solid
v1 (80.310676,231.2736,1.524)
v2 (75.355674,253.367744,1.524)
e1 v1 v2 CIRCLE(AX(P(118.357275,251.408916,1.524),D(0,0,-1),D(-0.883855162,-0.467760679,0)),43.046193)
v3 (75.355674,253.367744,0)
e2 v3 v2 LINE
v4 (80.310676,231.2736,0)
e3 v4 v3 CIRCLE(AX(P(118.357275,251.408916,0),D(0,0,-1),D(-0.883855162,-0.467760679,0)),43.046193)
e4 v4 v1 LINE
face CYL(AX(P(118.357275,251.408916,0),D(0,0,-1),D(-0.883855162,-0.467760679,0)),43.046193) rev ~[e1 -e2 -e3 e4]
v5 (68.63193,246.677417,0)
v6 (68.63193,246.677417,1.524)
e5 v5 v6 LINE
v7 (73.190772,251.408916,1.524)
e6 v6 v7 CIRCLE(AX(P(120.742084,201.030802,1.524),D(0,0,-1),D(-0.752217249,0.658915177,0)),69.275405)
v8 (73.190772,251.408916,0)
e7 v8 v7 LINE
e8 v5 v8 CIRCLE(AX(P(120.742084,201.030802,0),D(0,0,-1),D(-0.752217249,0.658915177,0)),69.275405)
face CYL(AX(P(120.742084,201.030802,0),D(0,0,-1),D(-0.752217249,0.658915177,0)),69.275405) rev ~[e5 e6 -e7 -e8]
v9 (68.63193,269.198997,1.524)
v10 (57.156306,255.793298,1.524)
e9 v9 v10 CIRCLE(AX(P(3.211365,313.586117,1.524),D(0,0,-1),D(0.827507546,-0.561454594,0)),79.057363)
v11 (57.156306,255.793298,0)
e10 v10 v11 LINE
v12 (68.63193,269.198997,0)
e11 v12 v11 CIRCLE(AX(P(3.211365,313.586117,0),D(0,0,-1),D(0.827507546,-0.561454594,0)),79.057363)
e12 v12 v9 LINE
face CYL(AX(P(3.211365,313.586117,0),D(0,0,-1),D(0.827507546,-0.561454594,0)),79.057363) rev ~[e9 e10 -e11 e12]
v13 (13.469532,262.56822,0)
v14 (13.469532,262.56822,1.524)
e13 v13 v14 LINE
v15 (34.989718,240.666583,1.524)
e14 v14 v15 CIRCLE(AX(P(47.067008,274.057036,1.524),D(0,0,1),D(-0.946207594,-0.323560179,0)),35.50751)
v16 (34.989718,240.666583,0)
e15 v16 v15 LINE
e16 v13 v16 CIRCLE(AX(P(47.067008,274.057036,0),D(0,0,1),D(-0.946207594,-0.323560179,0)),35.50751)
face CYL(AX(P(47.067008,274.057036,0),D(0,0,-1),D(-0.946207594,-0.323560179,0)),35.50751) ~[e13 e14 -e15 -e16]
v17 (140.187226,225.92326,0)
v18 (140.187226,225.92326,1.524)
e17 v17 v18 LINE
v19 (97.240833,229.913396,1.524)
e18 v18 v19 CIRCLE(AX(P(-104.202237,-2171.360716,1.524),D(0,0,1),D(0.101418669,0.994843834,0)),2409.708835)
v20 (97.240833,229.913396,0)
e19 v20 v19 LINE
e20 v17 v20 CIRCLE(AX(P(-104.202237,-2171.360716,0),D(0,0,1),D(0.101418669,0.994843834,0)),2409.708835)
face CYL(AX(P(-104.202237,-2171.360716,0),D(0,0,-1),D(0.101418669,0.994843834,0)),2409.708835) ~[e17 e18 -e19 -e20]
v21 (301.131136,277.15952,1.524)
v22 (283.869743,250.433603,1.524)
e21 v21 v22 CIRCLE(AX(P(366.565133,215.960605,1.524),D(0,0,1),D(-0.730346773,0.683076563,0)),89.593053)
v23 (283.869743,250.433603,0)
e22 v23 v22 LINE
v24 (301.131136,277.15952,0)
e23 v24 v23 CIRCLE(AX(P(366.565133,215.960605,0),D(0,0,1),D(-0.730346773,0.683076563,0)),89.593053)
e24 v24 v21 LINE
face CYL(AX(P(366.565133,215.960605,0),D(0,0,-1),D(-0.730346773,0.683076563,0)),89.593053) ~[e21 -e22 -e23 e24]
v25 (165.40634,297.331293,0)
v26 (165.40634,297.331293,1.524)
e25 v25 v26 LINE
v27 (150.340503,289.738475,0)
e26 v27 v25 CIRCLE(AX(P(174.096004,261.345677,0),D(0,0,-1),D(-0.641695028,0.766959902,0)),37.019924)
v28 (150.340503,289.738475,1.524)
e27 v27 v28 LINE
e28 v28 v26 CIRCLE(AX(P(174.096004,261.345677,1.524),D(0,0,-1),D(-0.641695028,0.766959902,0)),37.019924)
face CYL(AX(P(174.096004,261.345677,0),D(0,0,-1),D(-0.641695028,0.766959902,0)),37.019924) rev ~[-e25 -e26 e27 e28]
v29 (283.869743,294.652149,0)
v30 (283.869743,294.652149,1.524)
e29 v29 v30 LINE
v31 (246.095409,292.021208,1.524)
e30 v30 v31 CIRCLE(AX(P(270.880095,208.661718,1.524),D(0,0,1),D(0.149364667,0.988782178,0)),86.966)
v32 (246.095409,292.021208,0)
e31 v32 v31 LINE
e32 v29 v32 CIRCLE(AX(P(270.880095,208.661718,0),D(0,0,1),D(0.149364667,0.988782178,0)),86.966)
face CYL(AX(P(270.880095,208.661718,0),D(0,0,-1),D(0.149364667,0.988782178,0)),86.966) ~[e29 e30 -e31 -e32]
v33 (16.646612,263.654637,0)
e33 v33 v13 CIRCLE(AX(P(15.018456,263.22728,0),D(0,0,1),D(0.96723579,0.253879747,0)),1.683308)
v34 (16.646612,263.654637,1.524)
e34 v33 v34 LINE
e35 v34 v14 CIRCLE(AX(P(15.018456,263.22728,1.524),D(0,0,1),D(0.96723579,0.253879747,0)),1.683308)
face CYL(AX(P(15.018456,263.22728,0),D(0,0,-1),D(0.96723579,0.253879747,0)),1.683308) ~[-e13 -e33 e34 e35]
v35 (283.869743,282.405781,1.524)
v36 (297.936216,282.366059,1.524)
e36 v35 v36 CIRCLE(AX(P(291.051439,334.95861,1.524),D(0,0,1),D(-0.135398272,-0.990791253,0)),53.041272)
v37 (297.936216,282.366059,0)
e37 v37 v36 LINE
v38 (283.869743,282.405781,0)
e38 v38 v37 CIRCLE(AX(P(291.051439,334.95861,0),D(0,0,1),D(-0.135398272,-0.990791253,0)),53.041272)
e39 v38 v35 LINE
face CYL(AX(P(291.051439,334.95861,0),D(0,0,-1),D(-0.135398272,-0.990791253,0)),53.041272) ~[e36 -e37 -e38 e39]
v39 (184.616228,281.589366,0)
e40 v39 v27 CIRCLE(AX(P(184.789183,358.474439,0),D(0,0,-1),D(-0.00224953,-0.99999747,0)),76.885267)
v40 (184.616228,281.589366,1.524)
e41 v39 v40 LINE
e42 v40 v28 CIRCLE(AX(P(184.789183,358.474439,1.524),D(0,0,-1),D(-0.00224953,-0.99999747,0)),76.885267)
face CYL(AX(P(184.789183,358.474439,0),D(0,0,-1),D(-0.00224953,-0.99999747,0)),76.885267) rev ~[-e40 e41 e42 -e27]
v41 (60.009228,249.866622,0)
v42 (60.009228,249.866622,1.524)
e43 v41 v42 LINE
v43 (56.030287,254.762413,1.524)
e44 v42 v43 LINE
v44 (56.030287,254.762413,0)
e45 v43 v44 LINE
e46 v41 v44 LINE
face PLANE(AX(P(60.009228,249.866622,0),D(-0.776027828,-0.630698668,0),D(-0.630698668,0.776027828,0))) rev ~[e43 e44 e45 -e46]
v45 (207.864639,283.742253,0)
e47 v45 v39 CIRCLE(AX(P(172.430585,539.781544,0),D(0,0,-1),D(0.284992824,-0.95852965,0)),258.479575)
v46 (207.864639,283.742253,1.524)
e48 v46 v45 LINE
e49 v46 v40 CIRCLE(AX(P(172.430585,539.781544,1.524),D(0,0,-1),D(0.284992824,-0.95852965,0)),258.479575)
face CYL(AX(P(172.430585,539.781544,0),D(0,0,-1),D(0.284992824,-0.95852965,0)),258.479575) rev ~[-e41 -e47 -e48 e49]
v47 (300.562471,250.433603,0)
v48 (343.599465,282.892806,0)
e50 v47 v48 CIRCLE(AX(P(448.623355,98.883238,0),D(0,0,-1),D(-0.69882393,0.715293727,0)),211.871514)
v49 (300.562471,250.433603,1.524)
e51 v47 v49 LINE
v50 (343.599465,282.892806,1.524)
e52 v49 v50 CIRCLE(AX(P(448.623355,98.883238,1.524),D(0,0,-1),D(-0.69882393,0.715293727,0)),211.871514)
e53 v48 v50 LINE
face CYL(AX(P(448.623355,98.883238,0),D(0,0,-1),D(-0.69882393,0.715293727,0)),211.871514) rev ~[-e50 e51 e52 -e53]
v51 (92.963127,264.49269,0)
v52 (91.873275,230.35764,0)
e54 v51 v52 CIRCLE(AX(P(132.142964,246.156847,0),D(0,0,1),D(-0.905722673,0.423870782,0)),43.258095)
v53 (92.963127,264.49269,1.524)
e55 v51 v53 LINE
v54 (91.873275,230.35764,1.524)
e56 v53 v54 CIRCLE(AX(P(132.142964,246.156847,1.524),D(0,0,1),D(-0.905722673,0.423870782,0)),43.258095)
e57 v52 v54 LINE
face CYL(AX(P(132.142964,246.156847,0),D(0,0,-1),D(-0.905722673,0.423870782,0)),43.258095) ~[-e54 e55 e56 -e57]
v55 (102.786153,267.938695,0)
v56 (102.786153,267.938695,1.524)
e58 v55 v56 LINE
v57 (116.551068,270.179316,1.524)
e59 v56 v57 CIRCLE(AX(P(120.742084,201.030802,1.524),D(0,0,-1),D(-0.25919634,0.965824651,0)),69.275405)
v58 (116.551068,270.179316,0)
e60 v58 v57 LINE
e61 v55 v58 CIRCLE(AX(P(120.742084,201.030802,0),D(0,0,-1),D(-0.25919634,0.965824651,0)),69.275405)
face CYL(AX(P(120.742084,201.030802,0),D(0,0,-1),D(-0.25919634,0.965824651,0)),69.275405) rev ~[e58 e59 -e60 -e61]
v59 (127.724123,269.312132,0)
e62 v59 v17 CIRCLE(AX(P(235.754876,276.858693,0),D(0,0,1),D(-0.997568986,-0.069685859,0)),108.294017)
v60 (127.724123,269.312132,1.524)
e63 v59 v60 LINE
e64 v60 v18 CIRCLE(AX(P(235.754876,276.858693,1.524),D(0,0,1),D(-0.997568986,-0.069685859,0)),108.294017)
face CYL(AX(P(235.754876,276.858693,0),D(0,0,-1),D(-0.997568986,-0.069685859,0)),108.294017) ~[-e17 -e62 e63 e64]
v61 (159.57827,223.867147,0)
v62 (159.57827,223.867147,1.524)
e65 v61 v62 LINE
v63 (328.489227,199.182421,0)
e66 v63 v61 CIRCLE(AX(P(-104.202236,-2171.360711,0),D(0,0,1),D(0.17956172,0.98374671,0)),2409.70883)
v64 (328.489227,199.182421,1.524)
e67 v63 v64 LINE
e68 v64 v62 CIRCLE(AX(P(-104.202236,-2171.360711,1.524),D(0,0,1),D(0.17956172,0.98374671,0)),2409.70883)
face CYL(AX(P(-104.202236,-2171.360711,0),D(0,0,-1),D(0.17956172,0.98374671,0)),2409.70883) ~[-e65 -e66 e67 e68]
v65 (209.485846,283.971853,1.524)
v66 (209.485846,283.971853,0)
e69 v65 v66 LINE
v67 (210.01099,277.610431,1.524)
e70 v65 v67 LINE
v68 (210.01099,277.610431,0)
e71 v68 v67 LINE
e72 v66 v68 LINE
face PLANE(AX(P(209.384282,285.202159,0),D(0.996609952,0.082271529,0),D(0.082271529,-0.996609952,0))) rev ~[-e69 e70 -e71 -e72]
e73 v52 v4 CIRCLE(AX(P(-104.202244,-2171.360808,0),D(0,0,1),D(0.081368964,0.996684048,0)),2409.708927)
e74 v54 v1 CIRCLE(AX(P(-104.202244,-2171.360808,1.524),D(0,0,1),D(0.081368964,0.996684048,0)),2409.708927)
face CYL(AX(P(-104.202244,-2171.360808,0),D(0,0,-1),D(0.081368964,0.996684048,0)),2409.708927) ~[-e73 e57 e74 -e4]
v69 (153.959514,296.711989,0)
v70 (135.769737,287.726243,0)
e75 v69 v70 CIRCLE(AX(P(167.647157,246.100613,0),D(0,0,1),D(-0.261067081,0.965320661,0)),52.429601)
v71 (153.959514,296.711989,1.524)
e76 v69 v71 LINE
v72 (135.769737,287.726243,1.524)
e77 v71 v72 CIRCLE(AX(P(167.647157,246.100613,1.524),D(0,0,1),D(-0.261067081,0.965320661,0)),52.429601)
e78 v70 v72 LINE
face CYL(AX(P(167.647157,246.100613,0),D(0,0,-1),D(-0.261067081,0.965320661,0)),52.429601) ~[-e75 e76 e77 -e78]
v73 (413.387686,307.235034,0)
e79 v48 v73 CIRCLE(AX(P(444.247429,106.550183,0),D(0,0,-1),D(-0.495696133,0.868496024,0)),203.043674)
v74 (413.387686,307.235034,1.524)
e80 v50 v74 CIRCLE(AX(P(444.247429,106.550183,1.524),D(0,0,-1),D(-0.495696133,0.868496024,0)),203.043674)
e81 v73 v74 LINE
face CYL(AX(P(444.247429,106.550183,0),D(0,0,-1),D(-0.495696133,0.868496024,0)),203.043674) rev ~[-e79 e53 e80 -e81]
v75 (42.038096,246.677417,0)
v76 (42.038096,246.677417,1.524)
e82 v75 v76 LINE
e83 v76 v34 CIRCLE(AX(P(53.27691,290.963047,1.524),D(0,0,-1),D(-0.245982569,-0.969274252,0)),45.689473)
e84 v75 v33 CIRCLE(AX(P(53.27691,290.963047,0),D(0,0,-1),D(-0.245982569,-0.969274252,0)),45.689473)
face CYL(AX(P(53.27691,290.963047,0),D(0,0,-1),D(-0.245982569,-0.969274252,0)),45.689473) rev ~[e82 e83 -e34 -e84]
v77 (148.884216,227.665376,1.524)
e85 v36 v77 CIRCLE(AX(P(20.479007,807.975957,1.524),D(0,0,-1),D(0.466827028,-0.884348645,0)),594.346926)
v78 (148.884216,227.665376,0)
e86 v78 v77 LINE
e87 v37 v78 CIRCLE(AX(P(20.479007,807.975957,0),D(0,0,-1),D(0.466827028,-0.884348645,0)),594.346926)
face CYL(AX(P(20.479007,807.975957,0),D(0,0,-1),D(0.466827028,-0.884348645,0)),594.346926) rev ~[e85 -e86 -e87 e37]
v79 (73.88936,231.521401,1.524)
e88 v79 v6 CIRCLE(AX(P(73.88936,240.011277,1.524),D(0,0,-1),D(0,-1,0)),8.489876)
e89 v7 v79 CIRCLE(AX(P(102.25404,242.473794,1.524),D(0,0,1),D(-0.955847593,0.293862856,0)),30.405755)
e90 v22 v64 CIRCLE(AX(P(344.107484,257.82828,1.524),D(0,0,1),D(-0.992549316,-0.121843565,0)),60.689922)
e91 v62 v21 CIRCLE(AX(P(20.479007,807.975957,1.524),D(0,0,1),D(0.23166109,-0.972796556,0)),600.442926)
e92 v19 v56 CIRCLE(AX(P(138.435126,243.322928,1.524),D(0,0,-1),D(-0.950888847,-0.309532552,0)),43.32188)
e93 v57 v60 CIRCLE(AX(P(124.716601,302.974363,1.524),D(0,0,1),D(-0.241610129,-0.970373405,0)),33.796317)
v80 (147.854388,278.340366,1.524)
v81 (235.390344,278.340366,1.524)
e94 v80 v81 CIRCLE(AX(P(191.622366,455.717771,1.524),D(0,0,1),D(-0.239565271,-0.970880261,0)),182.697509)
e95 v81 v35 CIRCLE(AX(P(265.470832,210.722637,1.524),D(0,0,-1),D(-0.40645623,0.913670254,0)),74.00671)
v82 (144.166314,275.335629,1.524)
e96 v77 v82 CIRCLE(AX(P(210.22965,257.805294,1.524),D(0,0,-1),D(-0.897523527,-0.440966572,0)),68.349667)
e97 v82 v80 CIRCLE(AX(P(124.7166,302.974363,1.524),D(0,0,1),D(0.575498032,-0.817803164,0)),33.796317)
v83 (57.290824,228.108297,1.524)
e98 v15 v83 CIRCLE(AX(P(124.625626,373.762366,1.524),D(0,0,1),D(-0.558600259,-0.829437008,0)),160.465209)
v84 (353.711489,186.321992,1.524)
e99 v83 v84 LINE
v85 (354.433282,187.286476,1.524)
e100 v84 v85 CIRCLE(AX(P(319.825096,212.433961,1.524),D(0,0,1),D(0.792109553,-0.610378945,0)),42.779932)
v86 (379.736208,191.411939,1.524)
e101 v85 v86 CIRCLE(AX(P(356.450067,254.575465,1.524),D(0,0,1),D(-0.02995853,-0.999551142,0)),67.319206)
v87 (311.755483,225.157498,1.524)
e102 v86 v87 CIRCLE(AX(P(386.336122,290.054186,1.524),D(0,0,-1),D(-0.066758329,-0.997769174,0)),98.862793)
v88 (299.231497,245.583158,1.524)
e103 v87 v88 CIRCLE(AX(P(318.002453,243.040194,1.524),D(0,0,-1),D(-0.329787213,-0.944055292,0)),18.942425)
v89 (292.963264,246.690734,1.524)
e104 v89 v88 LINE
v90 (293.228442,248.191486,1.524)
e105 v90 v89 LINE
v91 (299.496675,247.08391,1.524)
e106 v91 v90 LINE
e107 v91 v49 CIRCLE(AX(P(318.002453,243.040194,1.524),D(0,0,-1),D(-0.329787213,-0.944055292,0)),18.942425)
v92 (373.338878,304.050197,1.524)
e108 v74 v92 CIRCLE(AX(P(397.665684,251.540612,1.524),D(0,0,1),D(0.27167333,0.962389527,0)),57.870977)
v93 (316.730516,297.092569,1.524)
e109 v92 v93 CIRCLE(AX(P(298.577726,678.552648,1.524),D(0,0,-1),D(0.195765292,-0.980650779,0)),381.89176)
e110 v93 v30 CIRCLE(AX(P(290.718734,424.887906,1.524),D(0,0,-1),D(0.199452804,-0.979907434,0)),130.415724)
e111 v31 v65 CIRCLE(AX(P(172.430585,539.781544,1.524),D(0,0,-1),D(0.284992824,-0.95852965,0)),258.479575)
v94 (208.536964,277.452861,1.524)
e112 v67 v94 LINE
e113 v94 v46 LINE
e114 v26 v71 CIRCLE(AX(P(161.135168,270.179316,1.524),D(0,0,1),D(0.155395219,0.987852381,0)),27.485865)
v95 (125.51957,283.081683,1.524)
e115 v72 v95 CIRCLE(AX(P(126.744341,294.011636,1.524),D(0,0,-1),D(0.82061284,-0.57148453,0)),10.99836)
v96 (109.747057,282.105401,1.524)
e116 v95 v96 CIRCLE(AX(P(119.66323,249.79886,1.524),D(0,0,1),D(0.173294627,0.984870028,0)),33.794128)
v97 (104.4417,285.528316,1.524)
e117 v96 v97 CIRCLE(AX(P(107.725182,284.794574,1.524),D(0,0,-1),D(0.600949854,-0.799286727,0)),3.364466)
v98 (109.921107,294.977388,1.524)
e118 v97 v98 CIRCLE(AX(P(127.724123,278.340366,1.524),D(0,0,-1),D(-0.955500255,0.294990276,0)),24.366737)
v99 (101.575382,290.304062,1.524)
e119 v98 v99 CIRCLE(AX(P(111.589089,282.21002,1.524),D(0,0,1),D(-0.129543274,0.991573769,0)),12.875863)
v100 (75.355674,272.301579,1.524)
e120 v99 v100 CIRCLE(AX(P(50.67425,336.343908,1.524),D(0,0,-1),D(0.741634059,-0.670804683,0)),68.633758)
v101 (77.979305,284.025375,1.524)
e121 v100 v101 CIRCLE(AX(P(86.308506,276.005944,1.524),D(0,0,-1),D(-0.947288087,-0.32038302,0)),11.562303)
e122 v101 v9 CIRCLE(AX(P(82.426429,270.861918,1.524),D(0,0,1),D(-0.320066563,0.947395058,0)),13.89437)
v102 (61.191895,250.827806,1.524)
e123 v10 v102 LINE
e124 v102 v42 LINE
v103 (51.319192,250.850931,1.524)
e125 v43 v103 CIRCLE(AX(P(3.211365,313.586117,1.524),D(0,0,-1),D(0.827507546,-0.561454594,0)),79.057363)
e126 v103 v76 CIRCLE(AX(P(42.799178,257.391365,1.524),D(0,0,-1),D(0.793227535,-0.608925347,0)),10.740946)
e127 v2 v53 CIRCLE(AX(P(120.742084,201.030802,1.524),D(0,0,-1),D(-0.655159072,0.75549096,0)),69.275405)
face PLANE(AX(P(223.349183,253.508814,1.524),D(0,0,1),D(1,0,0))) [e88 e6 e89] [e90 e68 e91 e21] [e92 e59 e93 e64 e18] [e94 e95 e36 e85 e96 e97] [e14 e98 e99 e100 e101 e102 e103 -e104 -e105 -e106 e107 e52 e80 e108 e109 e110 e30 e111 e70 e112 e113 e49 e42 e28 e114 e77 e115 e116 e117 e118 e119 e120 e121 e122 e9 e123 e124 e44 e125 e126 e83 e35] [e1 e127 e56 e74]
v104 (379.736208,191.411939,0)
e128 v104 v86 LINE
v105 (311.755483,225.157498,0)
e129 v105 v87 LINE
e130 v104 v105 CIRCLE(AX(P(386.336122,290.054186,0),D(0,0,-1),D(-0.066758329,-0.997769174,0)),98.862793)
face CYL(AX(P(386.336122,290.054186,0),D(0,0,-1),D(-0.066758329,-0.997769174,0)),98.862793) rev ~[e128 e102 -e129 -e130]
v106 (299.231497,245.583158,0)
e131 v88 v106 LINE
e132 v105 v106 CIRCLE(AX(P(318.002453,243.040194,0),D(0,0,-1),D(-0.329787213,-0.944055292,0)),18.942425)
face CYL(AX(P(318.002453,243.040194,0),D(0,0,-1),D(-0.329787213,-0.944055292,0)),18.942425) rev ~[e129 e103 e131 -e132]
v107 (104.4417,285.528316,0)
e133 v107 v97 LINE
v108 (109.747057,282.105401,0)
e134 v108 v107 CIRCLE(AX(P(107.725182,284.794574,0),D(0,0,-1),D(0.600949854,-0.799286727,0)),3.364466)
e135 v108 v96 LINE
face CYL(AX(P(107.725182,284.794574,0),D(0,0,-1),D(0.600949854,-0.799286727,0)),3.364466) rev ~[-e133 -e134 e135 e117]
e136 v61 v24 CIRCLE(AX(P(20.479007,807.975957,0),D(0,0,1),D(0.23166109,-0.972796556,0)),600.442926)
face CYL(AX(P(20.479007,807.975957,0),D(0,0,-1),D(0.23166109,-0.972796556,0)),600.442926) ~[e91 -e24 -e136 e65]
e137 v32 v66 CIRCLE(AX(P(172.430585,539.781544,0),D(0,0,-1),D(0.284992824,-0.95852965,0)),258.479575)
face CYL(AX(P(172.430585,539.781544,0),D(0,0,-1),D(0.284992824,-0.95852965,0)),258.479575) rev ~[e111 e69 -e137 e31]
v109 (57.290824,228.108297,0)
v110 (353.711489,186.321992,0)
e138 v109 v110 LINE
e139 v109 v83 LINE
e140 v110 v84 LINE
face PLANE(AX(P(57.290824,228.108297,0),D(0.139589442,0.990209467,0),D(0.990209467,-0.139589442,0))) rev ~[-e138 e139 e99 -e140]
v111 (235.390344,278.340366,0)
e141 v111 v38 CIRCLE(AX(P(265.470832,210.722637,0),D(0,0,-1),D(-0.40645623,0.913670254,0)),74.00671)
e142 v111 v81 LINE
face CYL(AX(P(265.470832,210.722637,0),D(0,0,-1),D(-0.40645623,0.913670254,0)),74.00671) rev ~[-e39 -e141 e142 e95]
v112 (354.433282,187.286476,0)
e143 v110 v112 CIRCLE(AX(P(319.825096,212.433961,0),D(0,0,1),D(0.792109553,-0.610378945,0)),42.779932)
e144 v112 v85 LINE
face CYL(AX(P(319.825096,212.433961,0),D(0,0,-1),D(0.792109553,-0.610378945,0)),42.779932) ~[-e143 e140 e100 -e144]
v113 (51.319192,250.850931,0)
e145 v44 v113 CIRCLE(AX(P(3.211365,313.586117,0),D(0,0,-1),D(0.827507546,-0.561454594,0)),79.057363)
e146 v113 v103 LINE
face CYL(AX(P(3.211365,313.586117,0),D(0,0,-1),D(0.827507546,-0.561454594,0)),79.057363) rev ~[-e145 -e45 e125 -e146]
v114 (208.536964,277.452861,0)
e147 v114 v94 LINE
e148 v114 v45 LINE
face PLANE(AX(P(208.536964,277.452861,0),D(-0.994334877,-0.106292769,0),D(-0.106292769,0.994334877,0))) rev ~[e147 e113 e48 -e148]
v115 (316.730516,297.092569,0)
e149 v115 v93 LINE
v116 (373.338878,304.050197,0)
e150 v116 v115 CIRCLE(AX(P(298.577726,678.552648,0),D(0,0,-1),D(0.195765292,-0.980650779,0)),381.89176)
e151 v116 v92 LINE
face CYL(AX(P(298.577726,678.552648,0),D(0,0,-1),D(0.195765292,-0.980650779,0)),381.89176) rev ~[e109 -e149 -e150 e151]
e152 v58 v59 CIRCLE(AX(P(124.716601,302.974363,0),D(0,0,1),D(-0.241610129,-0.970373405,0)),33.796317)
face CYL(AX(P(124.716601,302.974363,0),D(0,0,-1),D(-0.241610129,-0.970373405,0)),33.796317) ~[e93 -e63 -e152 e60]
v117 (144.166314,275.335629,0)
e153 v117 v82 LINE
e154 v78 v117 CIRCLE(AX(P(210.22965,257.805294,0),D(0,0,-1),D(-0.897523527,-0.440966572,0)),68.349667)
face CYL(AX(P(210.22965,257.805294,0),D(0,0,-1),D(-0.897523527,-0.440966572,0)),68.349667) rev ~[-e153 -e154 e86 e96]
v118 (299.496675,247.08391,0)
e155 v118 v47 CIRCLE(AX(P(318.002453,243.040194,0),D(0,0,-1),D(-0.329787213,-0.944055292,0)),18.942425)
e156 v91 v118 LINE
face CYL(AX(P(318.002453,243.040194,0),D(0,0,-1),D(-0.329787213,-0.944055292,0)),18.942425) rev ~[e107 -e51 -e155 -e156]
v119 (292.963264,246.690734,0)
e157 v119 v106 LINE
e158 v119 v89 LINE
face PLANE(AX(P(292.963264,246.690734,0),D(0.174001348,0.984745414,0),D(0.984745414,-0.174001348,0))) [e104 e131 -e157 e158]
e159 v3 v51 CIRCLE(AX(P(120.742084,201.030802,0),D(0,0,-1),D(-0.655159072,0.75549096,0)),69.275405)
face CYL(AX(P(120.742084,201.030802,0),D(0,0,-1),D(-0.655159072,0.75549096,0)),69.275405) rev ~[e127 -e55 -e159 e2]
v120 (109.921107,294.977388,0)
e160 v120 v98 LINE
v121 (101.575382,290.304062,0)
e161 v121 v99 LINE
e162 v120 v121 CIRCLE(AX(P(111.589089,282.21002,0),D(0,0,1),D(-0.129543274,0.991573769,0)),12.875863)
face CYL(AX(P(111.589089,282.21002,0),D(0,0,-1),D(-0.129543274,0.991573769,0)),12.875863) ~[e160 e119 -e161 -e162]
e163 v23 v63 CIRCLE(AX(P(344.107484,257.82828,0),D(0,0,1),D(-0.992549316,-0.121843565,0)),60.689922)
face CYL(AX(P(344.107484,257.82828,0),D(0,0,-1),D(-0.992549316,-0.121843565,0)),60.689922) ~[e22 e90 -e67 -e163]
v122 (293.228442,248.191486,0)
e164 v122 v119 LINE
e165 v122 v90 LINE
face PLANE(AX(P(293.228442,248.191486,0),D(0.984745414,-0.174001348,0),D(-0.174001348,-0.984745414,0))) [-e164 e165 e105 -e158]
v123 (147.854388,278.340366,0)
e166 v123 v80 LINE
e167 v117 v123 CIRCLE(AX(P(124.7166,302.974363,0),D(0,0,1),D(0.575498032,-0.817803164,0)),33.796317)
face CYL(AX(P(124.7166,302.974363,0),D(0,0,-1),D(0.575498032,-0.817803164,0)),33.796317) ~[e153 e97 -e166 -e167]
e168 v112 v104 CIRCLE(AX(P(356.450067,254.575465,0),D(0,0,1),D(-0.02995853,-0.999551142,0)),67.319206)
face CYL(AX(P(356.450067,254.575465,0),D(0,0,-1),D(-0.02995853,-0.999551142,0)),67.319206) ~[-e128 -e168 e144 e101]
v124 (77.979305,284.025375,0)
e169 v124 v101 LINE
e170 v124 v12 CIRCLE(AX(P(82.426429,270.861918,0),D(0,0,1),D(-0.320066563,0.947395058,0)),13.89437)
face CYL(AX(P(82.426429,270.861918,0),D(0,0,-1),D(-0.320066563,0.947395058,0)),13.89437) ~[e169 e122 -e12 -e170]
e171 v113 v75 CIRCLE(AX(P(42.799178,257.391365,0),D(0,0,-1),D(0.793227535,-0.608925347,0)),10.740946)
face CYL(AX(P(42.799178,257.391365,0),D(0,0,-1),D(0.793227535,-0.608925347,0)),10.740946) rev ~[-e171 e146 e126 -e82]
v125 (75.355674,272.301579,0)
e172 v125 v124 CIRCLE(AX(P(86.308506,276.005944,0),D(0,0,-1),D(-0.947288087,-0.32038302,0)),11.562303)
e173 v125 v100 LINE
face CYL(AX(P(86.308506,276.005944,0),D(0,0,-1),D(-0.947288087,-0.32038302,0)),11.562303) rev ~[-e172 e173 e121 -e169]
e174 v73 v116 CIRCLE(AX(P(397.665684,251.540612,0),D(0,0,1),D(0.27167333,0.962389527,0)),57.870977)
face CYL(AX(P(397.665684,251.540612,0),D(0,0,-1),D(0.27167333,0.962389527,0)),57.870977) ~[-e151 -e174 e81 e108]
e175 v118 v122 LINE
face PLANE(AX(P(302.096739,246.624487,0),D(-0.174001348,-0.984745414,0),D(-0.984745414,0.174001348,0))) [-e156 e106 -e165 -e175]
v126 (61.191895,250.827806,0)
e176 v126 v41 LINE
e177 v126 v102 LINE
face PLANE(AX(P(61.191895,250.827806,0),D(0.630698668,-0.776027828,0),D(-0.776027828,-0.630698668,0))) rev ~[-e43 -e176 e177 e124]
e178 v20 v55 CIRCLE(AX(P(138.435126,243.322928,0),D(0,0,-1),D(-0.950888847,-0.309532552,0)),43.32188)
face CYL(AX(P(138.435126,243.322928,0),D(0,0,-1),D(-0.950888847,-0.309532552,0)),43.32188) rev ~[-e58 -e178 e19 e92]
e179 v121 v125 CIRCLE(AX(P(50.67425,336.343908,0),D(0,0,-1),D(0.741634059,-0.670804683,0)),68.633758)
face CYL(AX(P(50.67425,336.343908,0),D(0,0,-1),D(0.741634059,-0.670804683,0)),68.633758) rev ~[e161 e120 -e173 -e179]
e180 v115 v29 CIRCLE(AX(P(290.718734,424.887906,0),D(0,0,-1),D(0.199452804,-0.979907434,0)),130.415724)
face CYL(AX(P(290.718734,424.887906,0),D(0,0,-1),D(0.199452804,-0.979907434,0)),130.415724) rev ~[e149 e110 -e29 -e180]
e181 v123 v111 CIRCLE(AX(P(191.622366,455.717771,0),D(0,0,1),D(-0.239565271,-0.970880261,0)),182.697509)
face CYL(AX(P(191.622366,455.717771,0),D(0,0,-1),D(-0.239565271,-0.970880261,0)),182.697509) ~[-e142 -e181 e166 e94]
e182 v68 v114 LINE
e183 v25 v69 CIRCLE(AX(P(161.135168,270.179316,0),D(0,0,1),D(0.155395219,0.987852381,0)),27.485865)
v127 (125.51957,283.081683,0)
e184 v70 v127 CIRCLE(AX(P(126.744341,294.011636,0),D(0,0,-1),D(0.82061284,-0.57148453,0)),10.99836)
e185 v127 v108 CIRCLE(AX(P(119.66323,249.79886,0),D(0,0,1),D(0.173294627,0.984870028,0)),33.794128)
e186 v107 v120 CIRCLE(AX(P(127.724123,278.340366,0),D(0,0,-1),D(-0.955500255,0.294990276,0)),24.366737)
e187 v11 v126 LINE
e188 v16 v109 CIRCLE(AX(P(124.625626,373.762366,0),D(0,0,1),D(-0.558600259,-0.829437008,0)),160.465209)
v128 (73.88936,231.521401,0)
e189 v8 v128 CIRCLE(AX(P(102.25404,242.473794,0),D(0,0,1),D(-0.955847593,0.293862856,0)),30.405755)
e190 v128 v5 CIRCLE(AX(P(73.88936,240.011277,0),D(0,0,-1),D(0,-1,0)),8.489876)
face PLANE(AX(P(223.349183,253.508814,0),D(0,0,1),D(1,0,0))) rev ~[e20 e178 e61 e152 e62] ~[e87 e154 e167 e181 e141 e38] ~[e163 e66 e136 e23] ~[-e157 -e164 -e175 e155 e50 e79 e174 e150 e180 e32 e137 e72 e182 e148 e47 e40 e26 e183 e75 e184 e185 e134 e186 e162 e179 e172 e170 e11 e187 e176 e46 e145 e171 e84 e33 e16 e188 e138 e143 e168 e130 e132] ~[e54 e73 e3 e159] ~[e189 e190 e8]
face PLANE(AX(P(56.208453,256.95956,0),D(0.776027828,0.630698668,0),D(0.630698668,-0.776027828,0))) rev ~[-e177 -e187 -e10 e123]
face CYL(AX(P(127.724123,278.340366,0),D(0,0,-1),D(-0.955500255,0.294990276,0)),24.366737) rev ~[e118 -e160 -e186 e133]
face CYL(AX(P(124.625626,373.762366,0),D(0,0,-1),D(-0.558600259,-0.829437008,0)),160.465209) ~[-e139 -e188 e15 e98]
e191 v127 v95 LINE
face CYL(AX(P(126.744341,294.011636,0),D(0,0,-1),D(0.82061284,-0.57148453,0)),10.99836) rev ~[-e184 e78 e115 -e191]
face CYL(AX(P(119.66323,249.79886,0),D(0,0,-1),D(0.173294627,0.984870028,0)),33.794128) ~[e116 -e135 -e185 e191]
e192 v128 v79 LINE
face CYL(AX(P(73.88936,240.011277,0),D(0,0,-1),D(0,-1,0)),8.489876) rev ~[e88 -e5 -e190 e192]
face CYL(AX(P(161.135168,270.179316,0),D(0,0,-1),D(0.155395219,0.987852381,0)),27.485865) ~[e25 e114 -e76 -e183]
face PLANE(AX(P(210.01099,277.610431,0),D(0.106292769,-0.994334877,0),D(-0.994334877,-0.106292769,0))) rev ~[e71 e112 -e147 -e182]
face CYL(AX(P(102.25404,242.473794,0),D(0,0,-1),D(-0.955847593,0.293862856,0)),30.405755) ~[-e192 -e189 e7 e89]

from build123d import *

# Parameters (mm, degrees)
BOSS_EXTRUDE1_DEPTH = 1.524
CUT_EXTRUDE1_DEPTH  = 1.524


with BuildPart() as part:
    # Sketch1 → Boss-Extrude1 (new body)
    with BuildSketch(Plane.XY):
        with BuildLine():
            Line((57.290824473, 228.108297044), (353.711488573, 186.321991739))
            ThreePointArc((353.711488573, 186.321991739), (354.075780486, 186.801693195), (354.433282196, 187.286476253))
            ThreePointArc((354.433282196, 187.286476253), (367.282944414, 188.133579217), (379.736207542, 191.411938565))
            ThreePointArc((379.736207542, 191.411938565), (342.378628376, 201.501430101), (311.755483248, 225.157497886))
            ThreePointArc((311.755483248, 225.157497886), (300.682282637, 235.370307227), (300.562470929, 250.433603398))
            ThreePointArc((300.562470929, 250.433603398), (321.044455039, 268.037495843), (343.59946469, 282.892806069))
            ThreePointArc((343.59946469, 282.892806069), (377.376618301, 298.266191923), (413.38768552, 307.235034456))
            ThreePointArc((413.38768552, 307.235034456), (393.078041438, 309.22946311), (373.338877641, 304.050196657))
            ThreePointArc((373.338877641, 304.050196657), (345.164765747, 299.513120241), (316.730515739, 297.09256867))
            ThreePointArc((316.730515739, 297.09256867), (300.377514826, 294.830345717), (283.869742792, 294.652149172))
            ThreePointArc((283.869742792, 294.652149172), (264.837645669, 295.417547796), (246.095409129, 292.02120779))
            ThreePointArc((246.095409129, 292.02120779), (215.671555063, 284.944519585), (184.616227681, 281.589366329))
            ThreePointArc((184.616227681, 281.589366329), (167.005302639, 283.674185668), (150.340503018, 289.738475081))
            ThreePointArc((150.340503018, 289.738475081), (157.435124743, 294.404562686), (165.406340408, 297.331293248))
            ThreePointArc((165.406340408, 297.331293248), (159.650281584, 297.625042258), (153.959513951, 296.711989461))
            ThreePointArc((153.959513951, 296.711989461), (144.425837897, 293.107350234), (135.76973662, 287.726243123))
            ThreePointArc((135.76973662, 287.726243123), (131.283660572, 283.993726612), (125.519570472, 283.081683228))
            ThreePointArc((125.519570472, 283.081683228), (117.575446144, 283.528434685), (109.74705726, 282.10540072))
            ThreePointArc((109.74705726, 282.10540072), (105.901175076, 281.967449489), (104.441699592, 285.528316185))
            ThreePointArc((104.441699592, 285.528316185), (106.645115294, 290.563839268), (109.921107262, 294.977387738))
            ThreePointArc((109.921107262, 294.977387738), (105.298186283, 293.444448732), (101.575381834, 290.304062227))
            ThreePointArc((101.575381834, 290.304062227), (89.522712553, 279.763084543), (75.355674106, 272.301578731))
            ThreePointArc((75.355674106, 272.301578731), (75.025286429, 278.530980407), (77.97930542, 284.025375103))
            ThreePointArc((77.97930542, 284.025375103), (70.672937053, 278.271974974), (68.631929607, 269.198997493))
            ThreePointArc((68.631929607, 269.198997493), (60.712120021, 259.329966949), (51.319192238, 250.850930717))
            ThreePointArc((51.319192238, 250.850930717), (47.204267049, 247.59528857), (42.038095614, 246.677417222))
            ThreePointArc((42.038095614, 246.677417222), (27.881645016, 252.981360845), (16.64661192, 263.65463729))
            ThreePointArc((16.64661192, 263.65463729), (14.473805053, 264.820038124), (13.469532472, 262.568219888))
            ThreePointArc((13.469532472, 262.568219888), (21.739819765, 249.170959745), (34.989718338, 240.66658328))
            ThreePointArc((34.989718338, 240.66658328), (45.889493734, 233.942107147), (57.290824473, 228.108297044))
        make_face()
        with BuildLine():
            ThreePointArc((328.489226954, 199.182421433), (244.252401976, 213.020971981), (159.578269796, 223.867146564))
            ThreePointArc((159.578269796, 223.867146564), (232.039463881, 246.03834442), (301.131135651, 277.159519764))
            ThreePointArc((301.131135651, 277.159519764), (291.304602068, 264.568913579), (283.869742792, 250.433603398))
            ThreePointArc((283.869742792, 250.433603398), (298.334085197, 217.977776055), (328.489226954, 199.182421433))
        make_face(mode=Mode.SUBTRACT)
        with BuildLine():
            ThreePointArc((73.889360105, 231.521400998), (65.868365727, 237.228895624), (68.631929607, 246.677417222))
            ThreePointArc((68.631929607, 246.677417222), (70.855224439, 249.097244695), (73.19077168, 251.408915949))
            ThreePointArc((73.19077168, 251.408915949), (71.867025962, 241.406389626), (73.889360105, 231.521400998))
        make_face(mode=Mode.SUBTRACT)
        with BuildLine():
            ThreePointArc((116.551068066, 270.179316334), (122.101400858, 269.279382121), (127.7241229, 269.312131715))
            ThreePointArc((127.7241229, 269.312131715), (131.669689581, 246.96106507), (140.187225602, 225.923259654))
            ThreePointArc((140.187225602, 225.923259654), (118.722956961, 228.014416663), (97.240833112, 229.913395557))
            ThreePointArc((97.240833112, 229.913395557), (95.566690644, 249.574533087), (102.786152544, 267.938695246))
            ThreePointArc((102.786152544, 267.938695246), (109.612083308, 269.406270814), (116.551068066, 270.179316334))
        make_face(mode=Mode.SUBTRACT)
        with BuildLine():
            ThreePointArc((147.854387632, 278.340365744), (191.622365865, 273.02026195), (235.390344097, 278.340365744))
            ThreePointArc((235.390344097, 278.340365744), (259.286439501, 284.470493189), (283.869742792, 282.405780779))
            ThreePointArc((283.869742792, 282.405780779), (290.901656942, 281.917548628), (297.936216355, 282.366058505))
            ThreePointArc((297.936216355, 282.366058505), (225.245012107, 250.01614522), (148.884216081, 227.665375775))
            ThreePointArc((148.884216081, 227.665375775), (142.212285393, 251.073648633), (144.166314335, 275.335628523))
            ThreePointArc((144.166314335, 275.335628523), (146.063284577, 276.773025404), (147.854387632, 278.340365744))
        make_face(mode=Mode.SUBTRACT)
        with BuildLine():
            ThreePointArc((92.963126534, 264.492689611), (88.906900231, 247.537272471), (91.873275106, 230.357640278))
            ThreePointArc((91.873275106, 230.357640278), (86.092526476, 230.822576823), (80.310675632, 231.273599578))
            ThreePointArc((80.310675632, 231.273599578), (76.354412107, 241.989032993), (75.355674106, 253.367743674))
            ThreePointArc((75.355674106, 253.367743674), (83.738923989, 259.595704551), (92.963126534, 264.492689611))
        make_face(mode=Mode.SUBTRACT)
    extrude(amount=BOSS_EXTRUDE1_DEPTH)

    # Sketch2 → Cut-Extrude1 (cut)
    with BuildSketch(Plane(origin=(0, 0, 0), x_dir=(-1, 0, 0), z_dir=(0, 0, -1))):
        Polygon((-293.228442315, 248.191486466), (-292.963264261, 246.690734455), (-301.831560839, 245.123734967), (-302.096738893, 246.624486978), align=None)
        Polygon((-210.010989789, 277.610431446), (-208.536964433, 277.452860551), (-207.725093618, 285.047652502), (-209.384282149, 285.202159423), align=None)
        Polygon((-61.191894588, 250.827806426), (-60.009228178, 249.866621656), (-54.939782062, 256.104198263), (-56.208453293, 256.959560494), align=None)
    extrude(amount=-CUT_EXTRUDE1_DEPTH, mode=Mode.SUBTRACT)


solid = part.part
